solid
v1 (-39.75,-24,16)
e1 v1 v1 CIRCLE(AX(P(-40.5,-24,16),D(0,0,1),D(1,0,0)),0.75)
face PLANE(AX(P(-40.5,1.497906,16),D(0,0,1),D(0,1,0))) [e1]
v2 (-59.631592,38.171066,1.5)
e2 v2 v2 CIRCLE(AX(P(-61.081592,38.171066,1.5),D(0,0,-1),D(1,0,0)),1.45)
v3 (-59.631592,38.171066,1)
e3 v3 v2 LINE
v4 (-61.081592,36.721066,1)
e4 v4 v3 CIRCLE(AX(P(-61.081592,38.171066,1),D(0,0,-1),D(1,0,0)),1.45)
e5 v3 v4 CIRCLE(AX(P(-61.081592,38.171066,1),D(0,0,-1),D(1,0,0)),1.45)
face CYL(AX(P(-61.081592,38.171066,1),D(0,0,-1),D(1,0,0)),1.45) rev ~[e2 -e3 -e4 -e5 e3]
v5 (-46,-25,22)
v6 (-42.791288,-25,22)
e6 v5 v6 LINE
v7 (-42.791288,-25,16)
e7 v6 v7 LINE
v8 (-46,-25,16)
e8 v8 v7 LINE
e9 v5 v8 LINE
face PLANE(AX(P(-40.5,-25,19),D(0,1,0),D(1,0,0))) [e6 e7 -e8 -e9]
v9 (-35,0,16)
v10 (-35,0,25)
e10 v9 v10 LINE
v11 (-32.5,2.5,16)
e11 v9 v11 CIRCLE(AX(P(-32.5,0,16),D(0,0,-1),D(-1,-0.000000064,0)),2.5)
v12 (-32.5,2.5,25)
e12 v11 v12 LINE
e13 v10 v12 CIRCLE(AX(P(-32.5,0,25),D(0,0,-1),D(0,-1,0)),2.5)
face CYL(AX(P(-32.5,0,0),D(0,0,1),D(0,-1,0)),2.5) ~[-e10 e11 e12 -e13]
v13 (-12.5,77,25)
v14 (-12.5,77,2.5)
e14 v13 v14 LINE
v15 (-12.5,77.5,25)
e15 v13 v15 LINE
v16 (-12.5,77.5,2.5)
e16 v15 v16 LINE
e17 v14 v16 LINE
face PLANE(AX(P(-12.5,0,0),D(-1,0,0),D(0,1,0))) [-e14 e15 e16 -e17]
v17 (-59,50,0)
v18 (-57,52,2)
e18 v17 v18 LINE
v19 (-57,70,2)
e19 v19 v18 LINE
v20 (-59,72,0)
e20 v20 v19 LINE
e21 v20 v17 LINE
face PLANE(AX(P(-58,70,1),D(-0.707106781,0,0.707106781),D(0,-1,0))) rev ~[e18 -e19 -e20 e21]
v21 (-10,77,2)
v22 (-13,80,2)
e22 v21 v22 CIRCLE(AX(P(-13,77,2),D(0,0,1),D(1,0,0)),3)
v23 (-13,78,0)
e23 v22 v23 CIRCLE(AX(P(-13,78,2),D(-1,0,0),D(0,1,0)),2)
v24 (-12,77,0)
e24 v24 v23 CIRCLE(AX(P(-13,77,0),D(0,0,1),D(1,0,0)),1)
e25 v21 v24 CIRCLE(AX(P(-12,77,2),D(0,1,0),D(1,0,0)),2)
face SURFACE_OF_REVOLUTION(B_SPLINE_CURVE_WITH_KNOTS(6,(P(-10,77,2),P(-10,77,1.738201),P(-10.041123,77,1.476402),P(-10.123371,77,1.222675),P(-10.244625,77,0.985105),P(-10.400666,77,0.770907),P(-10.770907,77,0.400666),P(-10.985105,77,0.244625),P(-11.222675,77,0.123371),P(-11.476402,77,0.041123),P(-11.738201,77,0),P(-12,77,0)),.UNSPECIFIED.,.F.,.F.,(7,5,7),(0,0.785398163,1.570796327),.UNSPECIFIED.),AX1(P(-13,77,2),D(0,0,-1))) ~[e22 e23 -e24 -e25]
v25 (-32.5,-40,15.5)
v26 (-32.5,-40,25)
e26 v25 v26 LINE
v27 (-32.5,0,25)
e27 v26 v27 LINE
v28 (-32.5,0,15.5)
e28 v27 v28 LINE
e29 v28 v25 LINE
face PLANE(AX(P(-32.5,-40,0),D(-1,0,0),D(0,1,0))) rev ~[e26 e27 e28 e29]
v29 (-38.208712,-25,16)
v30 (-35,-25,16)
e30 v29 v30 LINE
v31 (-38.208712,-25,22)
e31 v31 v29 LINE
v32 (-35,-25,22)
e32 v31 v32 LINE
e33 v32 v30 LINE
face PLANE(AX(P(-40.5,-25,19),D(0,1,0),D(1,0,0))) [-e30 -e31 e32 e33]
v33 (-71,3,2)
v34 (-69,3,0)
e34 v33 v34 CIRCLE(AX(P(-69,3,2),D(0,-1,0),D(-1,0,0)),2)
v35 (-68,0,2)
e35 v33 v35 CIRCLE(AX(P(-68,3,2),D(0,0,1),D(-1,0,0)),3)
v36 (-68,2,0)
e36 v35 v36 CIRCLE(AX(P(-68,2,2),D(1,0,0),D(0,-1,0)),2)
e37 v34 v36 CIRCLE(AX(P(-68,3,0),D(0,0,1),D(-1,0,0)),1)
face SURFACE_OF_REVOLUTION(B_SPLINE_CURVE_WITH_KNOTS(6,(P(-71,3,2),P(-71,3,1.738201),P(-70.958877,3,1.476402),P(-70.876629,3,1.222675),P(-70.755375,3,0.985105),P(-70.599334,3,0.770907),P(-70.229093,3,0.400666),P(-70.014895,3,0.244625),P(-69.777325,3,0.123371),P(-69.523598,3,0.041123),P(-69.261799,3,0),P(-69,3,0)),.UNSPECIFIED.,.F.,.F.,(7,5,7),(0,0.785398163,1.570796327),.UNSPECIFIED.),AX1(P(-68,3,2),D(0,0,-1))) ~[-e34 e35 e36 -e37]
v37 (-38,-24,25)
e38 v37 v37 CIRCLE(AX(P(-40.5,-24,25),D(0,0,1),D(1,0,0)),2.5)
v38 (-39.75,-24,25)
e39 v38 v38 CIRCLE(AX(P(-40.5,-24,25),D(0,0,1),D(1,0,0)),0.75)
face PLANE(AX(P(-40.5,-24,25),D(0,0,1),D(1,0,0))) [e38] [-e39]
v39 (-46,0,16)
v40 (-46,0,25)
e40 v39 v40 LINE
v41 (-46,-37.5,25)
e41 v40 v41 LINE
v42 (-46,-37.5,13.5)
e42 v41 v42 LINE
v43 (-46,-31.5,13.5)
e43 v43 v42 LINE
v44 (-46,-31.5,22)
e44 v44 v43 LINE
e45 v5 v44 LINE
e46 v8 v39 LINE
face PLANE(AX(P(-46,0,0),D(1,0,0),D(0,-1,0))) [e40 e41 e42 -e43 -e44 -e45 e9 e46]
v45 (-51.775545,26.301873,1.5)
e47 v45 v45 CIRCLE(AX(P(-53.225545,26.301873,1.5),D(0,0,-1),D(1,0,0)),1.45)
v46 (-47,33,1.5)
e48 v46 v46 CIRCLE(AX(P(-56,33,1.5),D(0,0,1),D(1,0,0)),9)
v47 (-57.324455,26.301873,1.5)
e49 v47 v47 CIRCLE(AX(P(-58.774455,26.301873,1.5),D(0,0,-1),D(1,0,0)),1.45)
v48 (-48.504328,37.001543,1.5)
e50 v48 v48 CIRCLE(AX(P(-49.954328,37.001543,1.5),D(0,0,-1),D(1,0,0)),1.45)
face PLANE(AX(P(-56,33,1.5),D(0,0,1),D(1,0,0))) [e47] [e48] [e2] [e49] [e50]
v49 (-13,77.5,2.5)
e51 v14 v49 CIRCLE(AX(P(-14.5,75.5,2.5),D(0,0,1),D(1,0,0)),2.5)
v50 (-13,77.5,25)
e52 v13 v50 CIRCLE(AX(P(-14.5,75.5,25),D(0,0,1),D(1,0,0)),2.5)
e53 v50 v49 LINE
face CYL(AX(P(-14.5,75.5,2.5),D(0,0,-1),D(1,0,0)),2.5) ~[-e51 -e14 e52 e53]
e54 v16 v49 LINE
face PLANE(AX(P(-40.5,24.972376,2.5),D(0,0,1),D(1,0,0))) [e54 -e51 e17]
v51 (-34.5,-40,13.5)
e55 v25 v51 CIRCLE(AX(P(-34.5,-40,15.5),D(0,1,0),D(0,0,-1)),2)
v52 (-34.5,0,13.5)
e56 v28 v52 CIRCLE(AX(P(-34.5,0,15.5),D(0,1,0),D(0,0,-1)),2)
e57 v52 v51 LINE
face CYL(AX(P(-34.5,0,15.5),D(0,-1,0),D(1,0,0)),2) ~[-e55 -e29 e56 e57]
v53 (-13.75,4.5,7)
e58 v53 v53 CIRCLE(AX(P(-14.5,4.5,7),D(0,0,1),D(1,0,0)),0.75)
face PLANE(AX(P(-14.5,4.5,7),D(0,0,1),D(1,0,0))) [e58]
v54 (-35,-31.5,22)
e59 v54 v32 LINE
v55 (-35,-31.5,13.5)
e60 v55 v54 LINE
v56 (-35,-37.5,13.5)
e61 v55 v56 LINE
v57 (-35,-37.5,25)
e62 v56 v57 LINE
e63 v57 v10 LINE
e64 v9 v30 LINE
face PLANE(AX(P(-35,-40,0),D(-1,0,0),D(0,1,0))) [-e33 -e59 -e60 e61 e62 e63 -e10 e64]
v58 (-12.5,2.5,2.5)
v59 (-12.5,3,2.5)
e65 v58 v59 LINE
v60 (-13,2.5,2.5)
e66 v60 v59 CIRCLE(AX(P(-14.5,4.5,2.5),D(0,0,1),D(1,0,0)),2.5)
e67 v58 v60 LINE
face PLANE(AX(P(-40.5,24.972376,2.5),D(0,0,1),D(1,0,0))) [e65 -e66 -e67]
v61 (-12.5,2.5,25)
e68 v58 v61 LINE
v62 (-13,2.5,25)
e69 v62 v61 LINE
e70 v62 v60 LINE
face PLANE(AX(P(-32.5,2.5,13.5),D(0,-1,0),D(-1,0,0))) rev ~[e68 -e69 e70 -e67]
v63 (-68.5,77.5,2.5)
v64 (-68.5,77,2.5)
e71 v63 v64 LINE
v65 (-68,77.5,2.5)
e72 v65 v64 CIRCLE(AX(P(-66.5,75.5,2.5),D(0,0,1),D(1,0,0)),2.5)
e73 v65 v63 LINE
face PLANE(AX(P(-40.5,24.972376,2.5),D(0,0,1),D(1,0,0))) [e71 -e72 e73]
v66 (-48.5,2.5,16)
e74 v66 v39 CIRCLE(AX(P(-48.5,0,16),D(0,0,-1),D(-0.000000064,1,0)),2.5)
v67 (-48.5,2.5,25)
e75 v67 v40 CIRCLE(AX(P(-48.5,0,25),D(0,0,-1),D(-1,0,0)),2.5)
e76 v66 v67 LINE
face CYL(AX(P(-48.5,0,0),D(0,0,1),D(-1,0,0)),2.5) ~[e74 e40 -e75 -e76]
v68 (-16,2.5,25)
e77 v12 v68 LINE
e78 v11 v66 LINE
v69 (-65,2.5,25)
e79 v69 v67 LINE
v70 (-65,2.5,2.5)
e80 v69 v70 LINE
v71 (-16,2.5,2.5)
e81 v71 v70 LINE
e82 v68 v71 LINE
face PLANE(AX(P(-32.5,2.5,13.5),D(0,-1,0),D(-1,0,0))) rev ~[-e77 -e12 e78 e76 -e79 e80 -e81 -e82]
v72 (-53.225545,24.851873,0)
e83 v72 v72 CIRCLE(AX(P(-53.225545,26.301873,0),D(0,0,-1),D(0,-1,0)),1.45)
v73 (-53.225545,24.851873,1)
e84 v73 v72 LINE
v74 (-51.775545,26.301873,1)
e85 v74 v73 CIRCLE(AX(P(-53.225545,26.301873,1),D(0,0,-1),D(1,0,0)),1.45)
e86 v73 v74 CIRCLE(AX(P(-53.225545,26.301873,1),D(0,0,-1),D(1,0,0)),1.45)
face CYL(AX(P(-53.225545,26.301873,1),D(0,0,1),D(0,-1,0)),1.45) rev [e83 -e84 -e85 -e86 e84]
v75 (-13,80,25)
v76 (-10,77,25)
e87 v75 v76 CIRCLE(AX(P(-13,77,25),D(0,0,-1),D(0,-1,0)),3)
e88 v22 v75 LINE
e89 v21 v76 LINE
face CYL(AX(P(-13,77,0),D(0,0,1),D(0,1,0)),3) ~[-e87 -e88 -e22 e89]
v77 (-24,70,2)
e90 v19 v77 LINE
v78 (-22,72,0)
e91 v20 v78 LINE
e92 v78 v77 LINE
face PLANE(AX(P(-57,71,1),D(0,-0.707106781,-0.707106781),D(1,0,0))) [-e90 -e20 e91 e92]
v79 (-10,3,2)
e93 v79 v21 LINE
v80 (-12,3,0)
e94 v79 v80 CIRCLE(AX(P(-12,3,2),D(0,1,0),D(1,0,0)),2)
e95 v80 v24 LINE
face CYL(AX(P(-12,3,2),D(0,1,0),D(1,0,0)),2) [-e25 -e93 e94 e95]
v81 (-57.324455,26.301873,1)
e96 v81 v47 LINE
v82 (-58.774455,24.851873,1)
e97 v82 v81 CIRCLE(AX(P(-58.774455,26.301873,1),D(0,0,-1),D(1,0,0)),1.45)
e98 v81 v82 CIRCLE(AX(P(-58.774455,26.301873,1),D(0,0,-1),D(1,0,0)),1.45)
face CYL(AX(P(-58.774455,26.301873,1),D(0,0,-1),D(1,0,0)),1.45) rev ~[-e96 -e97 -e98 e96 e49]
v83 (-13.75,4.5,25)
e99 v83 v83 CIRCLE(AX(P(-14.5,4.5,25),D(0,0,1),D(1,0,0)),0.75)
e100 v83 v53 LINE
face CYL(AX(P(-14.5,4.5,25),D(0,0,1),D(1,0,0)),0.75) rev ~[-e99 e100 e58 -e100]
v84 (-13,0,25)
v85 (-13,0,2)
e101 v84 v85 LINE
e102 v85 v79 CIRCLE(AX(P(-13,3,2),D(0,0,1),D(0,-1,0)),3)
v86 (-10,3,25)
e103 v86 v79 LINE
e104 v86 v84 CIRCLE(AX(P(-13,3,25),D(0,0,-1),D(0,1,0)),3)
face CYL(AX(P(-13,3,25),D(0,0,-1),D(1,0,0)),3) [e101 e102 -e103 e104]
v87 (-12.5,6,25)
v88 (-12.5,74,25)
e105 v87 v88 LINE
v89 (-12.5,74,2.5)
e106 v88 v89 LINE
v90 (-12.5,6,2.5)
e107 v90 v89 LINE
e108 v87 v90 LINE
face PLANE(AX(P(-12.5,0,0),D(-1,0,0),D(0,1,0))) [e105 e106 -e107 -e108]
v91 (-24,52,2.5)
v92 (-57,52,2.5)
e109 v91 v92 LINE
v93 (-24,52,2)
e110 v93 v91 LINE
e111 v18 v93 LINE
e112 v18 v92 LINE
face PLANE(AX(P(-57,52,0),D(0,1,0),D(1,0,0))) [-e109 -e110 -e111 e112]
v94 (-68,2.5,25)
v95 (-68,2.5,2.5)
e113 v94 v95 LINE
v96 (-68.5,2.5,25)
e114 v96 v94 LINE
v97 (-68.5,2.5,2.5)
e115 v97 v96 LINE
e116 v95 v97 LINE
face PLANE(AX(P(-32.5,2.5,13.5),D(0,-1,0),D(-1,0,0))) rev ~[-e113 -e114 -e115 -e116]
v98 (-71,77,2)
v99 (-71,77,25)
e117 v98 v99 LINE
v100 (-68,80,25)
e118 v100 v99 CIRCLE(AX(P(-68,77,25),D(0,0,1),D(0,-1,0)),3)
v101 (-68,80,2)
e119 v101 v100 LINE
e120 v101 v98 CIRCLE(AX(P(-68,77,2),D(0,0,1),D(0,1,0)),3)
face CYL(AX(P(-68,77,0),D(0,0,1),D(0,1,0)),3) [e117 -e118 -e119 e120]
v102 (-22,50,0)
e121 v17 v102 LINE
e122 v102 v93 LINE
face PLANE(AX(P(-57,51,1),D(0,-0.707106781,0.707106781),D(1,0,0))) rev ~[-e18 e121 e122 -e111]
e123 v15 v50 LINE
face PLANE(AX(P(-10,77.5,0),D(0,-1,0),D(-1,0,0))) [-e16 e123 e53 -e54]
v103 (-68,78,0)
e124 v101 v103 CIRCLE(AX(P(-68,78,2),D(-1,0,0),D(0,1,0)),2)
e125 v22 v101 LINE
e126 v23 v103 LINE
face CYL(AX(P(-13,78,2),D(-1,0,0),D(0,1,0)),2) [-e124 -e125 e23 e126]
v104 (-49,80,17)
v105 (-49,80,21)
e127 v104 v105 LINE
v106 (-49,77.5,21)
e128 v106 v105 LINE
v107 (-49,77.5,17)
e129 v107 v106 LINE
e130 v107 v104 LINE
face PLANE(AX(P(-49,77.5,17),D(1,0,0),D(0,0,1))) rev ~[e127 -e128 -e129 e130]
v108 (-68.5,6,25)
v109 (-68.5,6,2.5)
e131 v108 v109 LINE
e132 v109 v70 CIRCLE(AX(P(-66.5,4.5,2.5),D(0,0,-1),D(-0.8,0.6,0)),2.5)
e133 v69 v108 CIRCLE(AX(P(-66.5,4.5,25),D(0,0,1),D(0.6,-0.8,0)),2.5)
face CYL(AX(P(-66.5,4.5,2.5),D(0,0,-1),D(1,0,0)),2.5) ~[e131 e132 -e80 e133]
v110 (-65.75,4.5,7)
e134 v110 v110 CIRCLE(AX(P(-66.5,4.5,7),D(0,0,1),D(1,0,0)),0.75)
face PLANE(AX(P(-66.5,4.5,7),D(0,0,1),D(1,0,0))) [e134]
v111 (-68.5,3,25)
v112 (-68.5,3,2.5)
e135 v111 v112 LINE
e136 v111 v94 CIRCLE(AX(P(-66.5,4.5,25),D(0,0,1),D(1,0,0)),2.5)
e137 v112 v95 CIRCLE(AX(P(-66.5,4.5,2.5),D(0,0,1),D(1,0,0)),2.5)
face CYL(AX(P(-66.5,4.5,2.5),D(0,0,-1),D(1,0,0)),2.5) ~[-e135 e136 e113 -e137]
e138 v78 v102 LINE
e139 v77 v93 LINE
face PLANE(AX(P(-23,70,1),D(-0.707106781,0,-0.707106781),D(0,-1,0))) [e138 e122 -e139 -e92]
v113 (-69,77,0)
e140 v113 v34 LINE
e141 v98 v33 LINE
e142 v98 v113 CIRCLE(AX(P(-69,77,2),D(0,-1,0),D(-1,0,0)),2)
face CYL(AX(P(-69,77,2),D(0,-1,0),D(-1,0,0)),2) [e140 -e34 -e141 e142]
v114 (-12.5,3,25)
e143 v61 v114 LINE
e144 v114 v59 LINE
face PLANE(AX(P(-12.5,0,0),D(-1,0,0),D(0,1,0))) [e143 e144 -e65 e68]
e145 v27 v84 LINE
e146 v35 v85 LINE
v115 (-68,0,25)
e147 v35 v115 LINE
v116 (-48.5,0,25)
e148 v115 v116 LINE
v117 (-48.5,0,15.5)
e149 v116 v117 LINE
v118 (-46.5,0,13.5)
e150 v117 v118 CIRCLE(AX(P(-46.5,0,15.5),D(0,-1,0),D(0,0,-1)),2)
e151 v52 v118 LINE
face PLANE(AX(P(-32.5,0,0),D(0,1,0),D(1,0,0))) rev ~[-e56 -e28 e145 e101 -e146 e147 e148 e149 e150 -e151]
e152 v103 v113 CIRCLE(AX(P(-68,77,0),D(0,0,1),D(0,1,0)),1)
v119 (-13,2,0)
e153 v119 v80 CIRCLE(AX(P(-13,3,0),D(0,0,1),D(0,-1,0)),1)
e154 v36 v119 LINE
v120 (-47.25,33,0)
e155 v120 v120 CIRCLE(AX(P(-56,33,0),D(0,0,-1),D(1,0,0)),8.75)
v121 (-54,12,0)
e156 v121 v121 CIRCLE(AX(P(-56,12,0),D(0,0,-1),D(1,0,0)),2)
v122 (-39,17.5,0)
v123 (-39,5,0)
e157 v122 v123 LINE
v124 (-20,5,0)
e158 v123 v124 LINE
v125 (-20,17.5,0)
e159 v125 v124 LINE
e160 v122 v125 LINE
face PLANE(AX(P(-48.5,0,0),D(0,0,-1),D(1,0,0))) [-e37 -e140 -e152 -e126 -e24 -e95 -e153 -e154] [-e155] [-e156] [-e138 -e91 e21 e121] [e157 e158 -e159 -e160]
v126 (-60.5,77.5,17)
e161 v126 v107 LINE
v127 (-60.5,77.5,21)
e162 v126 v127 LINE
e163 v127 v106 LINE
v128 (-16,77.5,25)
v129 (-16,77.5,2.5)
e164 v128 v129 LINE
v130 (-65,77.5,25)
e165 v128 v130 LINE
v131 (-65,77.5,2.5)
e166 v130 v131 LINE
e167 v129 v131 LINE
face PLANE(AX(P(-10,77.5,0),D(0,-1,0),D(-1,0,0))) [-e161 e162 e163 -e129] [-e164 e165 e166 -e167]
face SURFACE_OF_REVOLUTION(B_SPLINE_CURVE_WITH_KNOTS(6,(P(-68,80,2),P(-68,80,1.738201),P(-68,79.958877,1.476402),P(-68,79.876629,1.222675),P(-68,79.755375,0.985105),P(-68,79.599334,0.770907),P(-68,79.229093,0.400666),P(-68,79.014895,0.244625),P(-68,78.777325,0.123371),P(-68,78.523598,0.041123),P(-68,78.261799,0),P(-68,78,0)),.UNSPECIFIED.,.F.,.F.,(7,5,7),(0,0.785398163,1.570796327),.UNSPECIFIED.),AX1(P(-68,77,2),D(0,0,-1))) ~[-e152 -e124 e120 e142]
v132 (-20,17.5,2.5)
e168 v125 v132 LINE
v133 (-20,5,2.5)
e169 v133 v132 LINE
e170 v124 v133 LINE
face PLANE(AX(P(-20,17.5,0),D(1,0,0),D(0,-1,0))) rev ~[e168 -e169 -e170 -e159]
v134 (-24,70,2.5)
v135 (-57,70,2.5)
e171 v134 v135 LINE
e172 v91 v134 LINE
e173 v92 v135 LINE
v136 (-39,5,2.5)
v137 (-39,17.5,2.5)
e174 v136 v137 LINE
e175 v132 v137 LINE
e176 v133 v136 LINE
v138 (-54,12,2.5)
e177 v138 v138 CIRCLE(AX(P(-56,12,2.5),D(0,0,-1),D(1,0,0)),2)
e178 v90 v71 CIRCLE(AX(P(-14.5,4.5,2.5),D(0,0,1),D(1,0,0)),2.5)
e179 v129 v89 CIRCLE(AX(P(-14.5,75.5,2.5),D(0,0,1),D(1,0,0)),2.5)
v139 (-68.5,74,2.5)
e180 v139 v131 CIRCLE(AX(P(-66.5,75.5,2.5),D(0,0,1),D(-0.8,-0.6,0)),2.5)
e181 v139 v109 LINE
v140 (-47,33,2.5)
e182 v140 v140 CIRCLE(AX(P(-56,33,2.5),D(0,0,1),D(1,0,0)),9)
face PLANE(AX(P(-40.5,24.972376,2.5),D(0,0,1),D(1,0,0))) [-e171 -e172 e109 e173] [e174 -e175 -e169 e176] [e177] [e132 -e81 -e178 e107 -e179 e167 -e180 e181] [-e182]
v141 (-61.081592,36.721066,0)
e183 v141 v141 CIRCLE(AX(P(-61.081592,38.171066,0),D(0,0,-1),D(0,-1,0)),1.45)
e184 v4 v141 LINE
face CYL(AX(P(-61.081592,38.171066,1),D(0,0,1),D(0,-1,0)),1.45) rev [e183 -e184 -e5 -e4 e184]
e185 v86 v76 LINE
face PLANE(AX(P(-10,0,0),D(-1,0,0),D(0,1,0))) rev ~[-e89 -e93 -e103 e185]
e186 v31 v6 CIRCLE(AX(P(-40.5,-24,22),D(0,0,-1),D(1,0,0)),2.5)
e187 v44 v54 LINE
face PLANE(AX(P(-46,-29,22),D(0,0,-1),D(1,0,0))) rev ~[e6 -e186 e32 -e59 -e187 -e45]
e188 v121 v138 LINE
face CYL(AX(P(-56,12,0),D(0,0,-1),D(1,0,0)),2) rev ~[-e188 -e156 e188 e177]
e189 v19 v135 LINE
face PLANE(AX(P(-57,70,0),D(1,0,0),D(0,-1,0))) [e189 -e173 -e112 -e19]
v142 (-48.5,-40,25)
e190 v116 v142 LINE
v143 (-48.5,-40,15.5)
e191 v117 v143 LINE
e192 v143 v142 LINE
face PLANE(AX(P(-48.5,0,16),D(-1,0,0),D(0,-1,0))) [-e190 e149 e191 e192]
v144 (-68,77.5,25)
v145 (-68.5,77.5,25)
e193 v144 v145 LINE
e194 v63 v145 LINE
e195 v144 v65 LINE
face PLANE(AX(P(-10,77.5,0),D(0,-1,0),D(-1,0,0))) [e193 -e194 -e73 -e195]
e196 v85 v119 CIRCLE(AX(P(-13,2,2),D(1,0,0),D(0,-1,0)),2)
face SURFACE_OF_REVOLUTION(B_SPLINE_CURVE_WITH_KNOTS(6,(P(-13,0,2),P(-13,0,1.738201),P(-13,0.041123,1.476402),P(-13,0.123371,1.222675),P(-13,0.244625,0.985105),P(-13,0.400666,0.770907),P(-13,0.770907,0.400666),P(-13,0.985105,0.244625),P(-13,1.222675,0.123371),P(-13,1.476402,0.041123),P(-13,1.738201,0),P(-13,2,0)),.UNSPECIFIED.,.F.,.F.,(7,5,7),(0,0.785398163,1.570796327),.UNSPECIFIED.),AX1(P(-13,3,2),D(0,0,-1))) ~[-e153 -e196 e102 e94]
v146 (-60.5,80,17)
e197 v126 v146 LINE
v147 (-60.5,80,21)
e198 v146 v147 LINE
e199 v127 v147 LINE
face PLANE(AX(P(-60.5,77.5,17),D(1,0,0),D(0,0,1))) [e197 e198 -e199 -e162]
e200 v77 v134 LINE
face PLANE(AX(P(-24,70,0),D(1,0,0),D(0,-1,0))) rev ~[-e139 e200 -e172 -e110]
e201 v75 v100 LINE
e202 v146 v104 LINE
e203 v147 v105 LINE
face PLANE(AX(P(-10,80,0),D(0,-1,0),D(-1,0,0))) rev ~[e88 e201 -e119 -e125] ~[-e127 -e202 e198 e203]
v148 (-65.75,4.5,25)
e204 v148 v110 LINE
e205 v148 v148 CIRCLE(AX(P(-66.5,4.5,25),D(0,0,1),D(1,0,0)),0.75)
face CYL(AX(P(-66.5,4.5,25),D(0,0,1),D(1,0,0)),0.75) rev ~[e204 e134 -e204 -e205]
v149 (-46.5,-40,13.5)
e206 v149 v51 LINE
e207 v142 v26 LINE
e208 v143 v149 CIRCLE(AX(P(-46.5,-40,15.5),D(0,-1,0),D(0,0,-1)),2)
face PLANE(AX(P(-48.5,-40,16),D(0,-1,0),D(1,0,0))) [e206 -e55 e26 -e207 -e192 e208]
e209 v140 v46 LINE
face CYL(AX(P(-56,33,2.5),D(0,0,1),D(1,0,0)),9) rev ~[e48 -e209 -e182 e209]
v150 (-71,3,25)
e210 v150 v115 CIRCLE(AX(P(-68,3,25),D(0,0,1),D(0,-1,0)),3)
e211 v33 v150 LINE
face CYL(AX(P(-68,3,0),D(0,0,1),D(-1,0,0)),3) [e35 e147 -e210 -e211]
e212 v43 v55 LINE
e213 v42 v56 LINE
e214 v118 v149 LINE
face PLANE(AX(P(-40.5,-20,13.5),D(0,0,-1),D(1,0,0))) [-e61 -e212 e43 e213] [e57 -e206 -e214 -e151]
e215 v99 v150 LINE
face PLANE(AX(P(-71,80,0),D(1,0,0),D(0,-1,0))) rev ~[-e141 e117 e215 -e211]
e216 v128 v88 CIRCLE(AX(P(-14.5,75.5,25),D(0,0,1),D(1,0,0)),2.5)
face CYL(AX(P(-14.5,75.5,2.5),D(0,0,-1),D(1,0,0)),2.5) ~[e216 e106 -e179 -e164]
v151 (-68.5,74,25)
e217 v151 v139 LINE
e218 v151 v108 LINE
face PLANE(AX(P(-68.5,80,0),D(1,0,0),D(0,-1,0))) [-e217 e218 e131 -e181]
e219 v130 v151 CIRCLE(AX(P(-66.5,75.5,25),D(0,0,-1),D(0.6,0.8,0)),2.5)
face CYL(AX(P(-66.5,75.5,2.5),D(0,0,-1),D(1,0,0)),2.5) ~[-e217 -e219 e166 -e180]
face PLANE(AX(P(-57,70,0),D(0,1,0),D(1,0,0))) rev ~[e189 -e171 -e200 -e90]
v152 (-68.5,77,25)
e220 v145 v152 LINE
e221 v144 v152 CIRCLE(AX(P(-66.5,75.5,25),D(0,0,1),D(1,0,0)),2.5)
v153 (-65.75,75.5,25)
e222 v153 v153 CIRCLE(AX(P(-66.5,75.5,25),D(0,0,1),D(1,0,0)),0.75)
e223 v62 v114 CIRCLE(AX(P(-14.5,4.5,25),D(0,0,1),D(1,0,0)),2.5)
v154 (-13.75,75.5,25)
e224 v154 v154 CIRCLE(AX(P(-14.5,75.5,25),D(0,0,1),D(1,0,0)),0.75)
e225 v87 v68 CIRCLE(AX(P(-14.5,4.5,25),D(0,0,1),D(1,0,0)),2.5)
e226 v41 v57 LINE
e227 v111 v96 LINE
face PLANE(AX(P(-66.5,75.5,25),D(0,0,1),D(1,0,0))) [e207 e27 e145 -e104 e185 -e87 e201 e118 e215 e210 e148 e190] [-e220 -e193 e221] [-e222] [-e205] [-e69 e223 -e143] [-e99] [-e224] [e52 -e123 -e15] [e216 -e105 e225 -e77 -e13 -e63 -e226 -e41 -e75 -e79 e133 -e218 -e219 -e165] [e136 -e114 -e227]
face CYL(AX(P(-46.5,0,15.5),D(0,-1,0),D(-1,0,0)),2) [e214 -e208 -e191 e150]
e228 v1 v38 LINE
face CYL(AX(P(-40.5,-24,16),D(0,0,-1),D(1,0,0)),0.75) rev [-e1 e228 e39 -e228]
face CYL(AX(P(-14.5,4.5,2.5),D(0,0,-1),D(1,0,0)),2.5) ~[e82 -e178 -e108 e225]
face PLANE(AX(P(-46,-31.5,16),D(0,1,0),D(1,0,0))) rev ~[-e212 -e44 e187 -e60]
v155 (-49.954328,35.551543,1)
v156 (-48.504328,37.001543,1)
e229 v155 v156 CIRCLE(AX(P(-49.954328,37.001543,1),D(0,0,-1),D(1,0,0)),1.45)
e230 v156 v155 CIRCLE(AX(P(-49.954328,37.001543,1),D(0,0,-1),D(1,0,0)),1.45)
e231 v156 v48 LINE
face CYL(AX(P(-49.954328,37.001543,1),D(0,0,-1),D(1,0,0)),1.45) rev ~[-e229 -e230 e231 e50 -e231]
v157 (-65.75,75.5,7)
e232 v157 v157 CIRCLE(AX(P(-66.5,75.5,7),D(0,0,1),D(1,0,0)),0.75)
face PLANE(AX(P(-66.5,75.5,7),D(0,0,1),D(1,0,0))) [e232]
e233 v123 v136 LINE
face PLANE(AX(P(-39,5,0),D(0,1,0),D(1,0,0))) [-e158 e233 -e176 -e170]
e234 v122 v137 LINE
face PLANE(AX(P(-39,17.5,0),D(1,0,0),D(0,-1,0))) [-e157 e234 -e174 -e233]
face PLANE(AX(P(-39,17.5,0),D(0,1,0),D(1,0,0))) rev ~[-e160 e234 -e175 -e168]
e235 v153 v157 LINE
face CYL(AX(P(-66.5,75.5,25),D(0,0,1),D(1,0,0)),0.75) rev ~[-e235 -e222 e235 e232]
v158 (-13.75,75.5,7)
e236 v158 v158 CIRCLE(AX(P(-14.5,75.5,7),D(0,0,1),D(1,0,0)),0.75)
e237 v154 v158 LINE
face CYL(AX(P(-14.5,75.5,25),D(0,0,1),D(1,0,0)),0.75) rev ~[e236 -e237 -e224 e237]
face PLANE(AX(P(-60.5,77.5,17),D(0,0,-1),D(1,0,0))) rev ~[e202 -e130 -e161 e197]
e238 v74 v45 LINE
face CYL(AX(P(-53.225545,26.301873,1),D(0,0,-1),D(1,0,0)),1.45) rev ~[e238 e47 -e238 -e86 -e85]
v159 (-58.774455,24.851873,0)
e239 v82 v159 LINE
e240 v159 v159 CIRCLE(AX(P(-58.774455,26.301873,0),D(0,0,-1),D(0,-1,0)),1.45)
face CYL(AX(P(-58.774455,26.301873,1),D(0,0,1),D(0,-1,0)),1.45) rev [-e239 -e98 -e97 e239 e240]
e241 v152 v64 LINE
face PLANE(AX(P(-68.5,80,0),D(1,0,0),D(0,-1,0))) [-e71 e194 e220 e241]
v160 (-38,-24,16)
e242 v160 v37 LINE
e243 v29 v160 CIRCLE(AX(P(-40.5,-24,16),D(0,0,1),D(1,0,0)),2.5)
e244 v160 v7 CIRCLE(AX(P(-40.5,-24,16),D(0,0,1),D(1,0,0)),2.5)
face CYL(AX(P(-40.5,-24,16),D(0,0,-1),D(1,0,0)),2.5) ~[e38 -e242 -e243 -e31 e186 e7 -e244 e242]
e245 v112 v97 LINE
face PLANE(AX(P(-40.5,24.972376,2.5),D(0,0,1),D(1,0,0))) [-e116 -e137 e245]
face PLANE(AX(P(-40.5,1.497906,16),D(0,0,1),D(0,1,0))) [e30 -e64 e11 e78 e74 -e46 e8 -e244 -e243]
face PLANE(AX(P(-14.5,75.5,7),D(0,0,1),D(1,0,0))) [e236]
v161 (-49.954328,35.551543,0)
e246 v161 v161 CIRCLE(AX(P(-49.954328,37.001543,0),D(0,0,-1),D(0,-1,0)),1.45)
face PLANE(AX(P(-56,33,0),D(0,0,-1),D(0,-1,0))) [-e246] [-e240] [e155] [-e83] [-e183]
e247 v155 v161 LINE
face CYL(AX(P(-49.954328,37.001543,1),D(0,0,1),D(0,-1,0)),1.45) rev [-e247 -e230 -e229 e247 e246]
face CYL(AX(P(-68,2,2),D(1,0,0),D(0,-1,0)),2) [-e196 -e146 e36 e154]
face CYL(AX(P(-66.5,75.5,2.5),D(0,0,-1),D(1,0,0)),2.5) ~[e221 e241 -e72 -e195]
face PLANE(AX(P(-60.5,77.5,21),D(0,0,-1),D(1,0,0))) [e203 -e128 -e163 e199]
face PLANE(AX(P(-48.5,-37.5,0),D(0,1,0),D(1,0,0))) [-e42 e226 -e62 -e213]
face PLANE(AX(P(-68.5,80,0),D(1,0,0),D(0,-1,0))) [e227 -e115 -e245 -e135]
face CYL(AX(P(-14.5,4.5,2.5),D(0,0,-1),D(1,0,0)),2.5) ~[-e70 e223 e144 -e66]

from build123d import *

# Parameters (mm, degrees)
PAD002_DEPTH        = 25
THICKNESS_T         = -2.5
SKETCH003_W         = 33
SKETCH003_H         = 18
POCKET_DEPTH        = 5
CHAMFER_SIZE        = 2
SKETCH004_W         = 19
SKETCH004_H         = 12.5
POCKET001_DEPTH     = 5
SKETCH005_R         = 2
POCKET002_DEPTH     = 5
SKETCH006_W         = 11.5
SKETCH006_H         = 4
POCKET003_DEPTH     = 5
SKETCH007_R         = 8.75
POCKET004_DEPTH     = 1
SKETCH011_W         = 40
SKETCH011_H         = 16
POCKET005_DEPTH     = 38.501
SKETCH012_W         = 16
SKETCH012_H         = 40
PAD005_DEPTH        = 2.5
SKETCH013_W         = 16
SKETCH013_H         = 13.5
PAD006_DEPTH        = 2.5
PAD007_DEPTH        = 2.5
SKETCH014_W         = 11
SKETCH014_H         = 6
POCKET006_DEPTH     = 2.5
SKETCH015_W         = 11
SKETCH015_H         = 2.5
PAD008_DEPTH        = 6
SKETCH016_R         = 2.5
PAD009_DEPTH        = 22.5
SKETCH017_R         = 0.75
POCKET007_DEPTH     = 18
SKETCH018_R         = 2.5
SKETCH018_R_2       = 0.75
PAD010_DEPTH        = 9
FILLET001_R         = 3
FILLET002_R         = 3
FILLET003_R         = 3
FILLET005_R         = 2
SKETCH020_R         = 1.45
POCKET009_DEPTH     = 5
FILLET006_R         = 2
FILLET006_FACE100_W = 11
FILLET006_FACE100_H = 6
PAD011_DEPTH        = 4
PAD011_FACE78_R     = 8.75
PAD011_FACE78_R_2   = 1.45
PAD012_DEPTH        = 1
SKETCH021_R         = 9
POCKET010_DEPTH     = 1


with BuildPart() as part:
    # Sketch002 → Pad002 (new body)
    with BuildSketch(Plane.XY):
        Polygon((-10, 80), (-71, 80), (-71, 0), (-48.5, 0), (-48.5, -40), (-32.5, -40), (-32.5, 0), (-10, 0), align=None)
    extrude(amount=PAD002_DEPTH)

    # Thickness
    thickness_openings = [part.faces().sort_by_distance(p)[0] for p in [
        (-40.5, 33.043478, 25),
    ]]
    offset(amount=THICKNESS_T, openings=thickness_openings)

    # Sketch003 (on Face9 of Thickness) → Pocket (cut)
    with BuildSketch(Plane(origin=(0, 0, 0), x_dir=(1, 0, 0), z_dir=(0, 0, -1))):
        with Locations((-40.5, -61)):
            Rectangle(SKETCH003_W, SKETCH003_H)
    extrude(amount=-POCKET_DEPTH, mode=Mode.SUBTRACT)

    # Chamfer
    chamfer_edges = [part.edges().sort_by_distance(p)[0] for p in [
        (-40.5, 70, 0),
        (-57, 61, 0),
        (-40.5, 52, 0),
        (-24, 61, 0),
    ]]
    chamfer(chamfer_edges, length=CHAMFER_SIZE)

    # Sketch004 (on Face1 of Chamfer) → Pocket001 (cut)
    with BuildSketch(Plane(origin=(0, 0, 0), x_dir=(1, 0, 0), z_dir=(0, 0, -1))):
        with Locations((-29.5, -11.25)):
            Rectangle(SKETCH004_W, SKETCH004_H)
    extrude(amount=-POCKET001_DEPTH, mode=Mode.SUBTRACT)

    # Sketch005 (on Face1 of Pocket001) → Pocket002 (cut)
    with BuildSketch(Plane(origin=(0, 0, 0), x_dir=(1, 0, 0), z_dir=(0, 0, -1))):
        with Locations((-56, -12)):
            Circle(SKETCH005_R)
    extrude(amount=-POCKET002_DEPTH, mode=Mode.SUBTRACT)

    # Sketch006 (on Face26 of Pocket002) → Pocket003 (cut)
    with BuildSketch(Plane.XZ.offset(-77.5)):
        with Locations((-54.75, 19)):
            Rectangle(SKETCH006_W, SKETCH006_H)
    extrude(amount=-POCKET003_DEPTH, mode=Mode.SUBTRACT)

    # Sketch007 (on Face1 of Pocket003) → Pocket004 (cut)
    with BuildSketch(Plane(origin=(0, 0, 0), x_dir=(1, 0, 0), z_dir=(0, 0, -1))):
        with Locations((-56, -33)):
            Circle(SKETCH007_R)
    extrude(amount=-POCKET004_DEPTH, mode=Mode.SUBTRACT)

    # Sketch011 (on Face8 of Pocket004) → Pocket005 (cut, through all)
    with BuildSketch(Plane(origin=(-48.5, 0, 0), x_dir=(0, -1, 0), z_dir=(-1, 0, 0))):
        with Locations((20, 8)):
            Rectangle(SKETCH011_W, SKETCH011_H)
    extrude(amount=-POCKET005_DEPTH, mode=Mode.SUBTRACT)

    # Sketch012 (on Face20 of Pocket005) → Pad005 (join)
    with BuildSketch(Plane(origin=(0, 0, 16), x_dir=(1, 0, 0), z_dir=(0, 0, -1))):
        with Locations((-40.5, 20)):
            Rectangle(SKETCH012_W, SKETCH012_H)
    extrude(amount=PAD005_DEPTH)

    # Sketch013 (on Face4 of Pad005) → Pad006 (join)
    with BuildSketch(Plane.XZ):
        with Locations((-40.5, 6.75)):
            Rectangle(SKETCH013_W, SKETCH013_H)
    extrude(amount=-PAD006_DEPTH)

    # Pad006 Face50 → Pad007 (add)
    with BuildSketch(Plane(origin=(-40.5, 1.311465, 13.5), x_dir=(0, 1, 0), z_dir=(0, 0, 1))):
        with BuildLine():
            ThreePointArc((1.188535, 8), (0.456302, 6.232233), (-1.311465, 5.5))
            Line((-1.311465, 5.5), (-1.311465, -5.5))
            ThreePointArc((-1.311465, -5.5), (0.456302, -6.232233), (1.188535, -8))
            Line((1.188535, -8), (1.188535, 8))
        make_face()
    extrude(amount=PAD007_DEPTH)

    # Sketch014 (on Face35 of Pad007) → Pocket006 (cut)
    with BuildSketch(Plane(origin=(0, 0, 13.5), x_dir=(1, 0, 0), z_dir=(0, 0, -1))):
        with Locations((-40.5, 34.5)):
            Rectangle(SKETCH014_W, SKETCH014_H)
    extrude(amount=-POCKET006_DEPTH, mode=Mode.SUBTRACT)

    # Sketch015 (on Face56 of Pocket006) → Pad008 (join)
    with BuildSketch(Plane.XY.offset(16)):
        with Locations((-40.5, -30.25)):
            Rectangle(SKETCH015_W, SKETCH015_H)
    extrude(amount=PAD008_DEPTH)

    # Sketch016 (on Face28 of Pad008) → Pad009 (join)
    with BuildSketch(Plane.XY.offset(2.5)):
        with Locations((-66.5, 75.5)):
            Circle(SKETCH016_R)
        with Locations((-14.5, 75.5)):
            Circle(SKETCH016_R)
        with Locations((-66.5, 4.5)):
            Circle(SKETCH016_R)
        with Locations((-14.5, 4.5)):
            Circle(SKETCH016_R)
    extrude(amount=PAD009_DEPTH)

    # Sketch017 (on Face79 of Pad009) → Pocket007 (cut)
    with BuildSketch(Plane.XY.offset(25)):
        with Locations((-66.5, 4.5)):
            Circle(SKETCH017_R)
        with Locations((-14.5, 4.5)):
            Circle(SKETCH017_R)
        with Locations((-14.5, 75.5)):
            Circle(SKETCH017_R)
        with Locations((-66.5, 75.5)):
            Circle(SKETCH017_R)
    extrude(amount=-POCKET007_DEPTH, mode=Mode.SUBTRACT)

    # Sketch018 (on Face84 of Pocket007) → Pad010 (join)
    with BuildSketch(Plane.XY.offset(16)):
        with Locations((-40.5, -24)):
            Circle(SKETCH018_R)
        with Locations((-40.5, -24)):
            Circle(SKETCH018_R_2, mode=Mode.SUBTRACT)
    extrude(amount=PAD010_DEPTH)

    # Fillet001
    fillet001_edges = [part.edges().sort_by_distance(p)[0] for p in [
        (-71, 80, 12.5),
    ]]
    fillet(fillet001_edges, radius=FILLET001_R)

    # Fillet002
    fillet002_edges = [part.edges().sort_by_distance(p)[0] for p in [
        (-10, 80, 12.5),
    ]]
    fillet(fillet002_edges, radius=FILLET002_R)

    # Fillet003
    fillet003_edges = [part.edges().sort_by_distance(p)[0] for p in [
        (-10, 0, 8),
        (-10, 0, 20.5),
        (-71, 0, 12.5),
    ]]
    fillet(fillet003_edges, radius=FILLET003_R)

    # Fillet005
    fillet005_edges = [part.edges().sort_by_distance(p)[0] for p in [
        (-32.5, -20, 13.5),
        (-48.5, -20, 13.5),
    ]]
    fillet(fillet005_edges, radius=FILLET005_R)

    # Sketch020 (on Face71 of Fillet005) → Pocket009 (cut)
    with BuildSketch(Plane(origin=(0, 0, 1), x_dir=(1, 0, 0), z_dir=(0, 0, -1))):
        with Locations((-58.774455, -26.301873)):
            Circle(SKETCH020_R)
        with Locations((-53.225545, -26.301873)):
            Circle(SKETCH020_R)
        with Locations((-49.954328, -37.001543)):
            Circle(SKETCH020_R)
        with Locations((-61.081592, -38.171066)):
            Circle(SKETCH020_R)
    extrude(amount=-POCKET009_DEPTH, mode=Mode.SUBTRACT)

    # Fillet006
    fillet006_edges = [part.edges().sort_by_distance(p)[0] for p in [
        (-22.75, 0, 0),
    ]]
    fillet(fillet006_edges, radius=FILLET006_R)

    # Fillet006 Face100 → Pad011 (add)
    with BuildSketch(Plane(origin=(-40.5, -29, 19), x_dir=(1, 0, 0), z_dir=(0, 1, 0))):
        Rectangle(FILLET006_FACE100_W, FILLET006_FACE100_H)
    extrude(amount=PAD011_DEPTH)

    # Pad011 Face78 → Pad012 (add)
    with BuildSketch(Plane(origin=(-56.029742, 33.130299, 1), x_dir=(0, -1, 0), z_dir=(0, 0, -1))):
        with Locations((0.130299, -0.029742)):
            Circle(PAD011_FACE78_R)
        with Locations((6.828426, 2.744713)):
            Circle(PAD011_FACE78_R_2, mode=Mode.SUBTRACT)
        with Locations((6.828426, -2.804197)):
            Circle(PAD011_FACE78_R_2, mode=Mode.SUBTRACT)
        with Locations((-5.040767, 5.05185)):
            Circle(PAD011_FACE78_R_2, mode=Mode.SUBTRACT)
        with Locations((-3.871244, -6.075414)):
            Circle(PAD011_FACE78_R_2, mode=Mode.SUBTRACT)
    extrude(amount=PAD012_DEPTH)

    # Sketch021 (on Face77 of Pad012) → Pocket010 (cut)
    with BuildSketch(Plane.XY.offset(2.5)):
        with Locations((-56, 33)):
            Circle(SKETCH021_R)
    extrude(amount=-POCKET010_DEPTH, mode=Mode.SUBTRACT)


solid = part.part
